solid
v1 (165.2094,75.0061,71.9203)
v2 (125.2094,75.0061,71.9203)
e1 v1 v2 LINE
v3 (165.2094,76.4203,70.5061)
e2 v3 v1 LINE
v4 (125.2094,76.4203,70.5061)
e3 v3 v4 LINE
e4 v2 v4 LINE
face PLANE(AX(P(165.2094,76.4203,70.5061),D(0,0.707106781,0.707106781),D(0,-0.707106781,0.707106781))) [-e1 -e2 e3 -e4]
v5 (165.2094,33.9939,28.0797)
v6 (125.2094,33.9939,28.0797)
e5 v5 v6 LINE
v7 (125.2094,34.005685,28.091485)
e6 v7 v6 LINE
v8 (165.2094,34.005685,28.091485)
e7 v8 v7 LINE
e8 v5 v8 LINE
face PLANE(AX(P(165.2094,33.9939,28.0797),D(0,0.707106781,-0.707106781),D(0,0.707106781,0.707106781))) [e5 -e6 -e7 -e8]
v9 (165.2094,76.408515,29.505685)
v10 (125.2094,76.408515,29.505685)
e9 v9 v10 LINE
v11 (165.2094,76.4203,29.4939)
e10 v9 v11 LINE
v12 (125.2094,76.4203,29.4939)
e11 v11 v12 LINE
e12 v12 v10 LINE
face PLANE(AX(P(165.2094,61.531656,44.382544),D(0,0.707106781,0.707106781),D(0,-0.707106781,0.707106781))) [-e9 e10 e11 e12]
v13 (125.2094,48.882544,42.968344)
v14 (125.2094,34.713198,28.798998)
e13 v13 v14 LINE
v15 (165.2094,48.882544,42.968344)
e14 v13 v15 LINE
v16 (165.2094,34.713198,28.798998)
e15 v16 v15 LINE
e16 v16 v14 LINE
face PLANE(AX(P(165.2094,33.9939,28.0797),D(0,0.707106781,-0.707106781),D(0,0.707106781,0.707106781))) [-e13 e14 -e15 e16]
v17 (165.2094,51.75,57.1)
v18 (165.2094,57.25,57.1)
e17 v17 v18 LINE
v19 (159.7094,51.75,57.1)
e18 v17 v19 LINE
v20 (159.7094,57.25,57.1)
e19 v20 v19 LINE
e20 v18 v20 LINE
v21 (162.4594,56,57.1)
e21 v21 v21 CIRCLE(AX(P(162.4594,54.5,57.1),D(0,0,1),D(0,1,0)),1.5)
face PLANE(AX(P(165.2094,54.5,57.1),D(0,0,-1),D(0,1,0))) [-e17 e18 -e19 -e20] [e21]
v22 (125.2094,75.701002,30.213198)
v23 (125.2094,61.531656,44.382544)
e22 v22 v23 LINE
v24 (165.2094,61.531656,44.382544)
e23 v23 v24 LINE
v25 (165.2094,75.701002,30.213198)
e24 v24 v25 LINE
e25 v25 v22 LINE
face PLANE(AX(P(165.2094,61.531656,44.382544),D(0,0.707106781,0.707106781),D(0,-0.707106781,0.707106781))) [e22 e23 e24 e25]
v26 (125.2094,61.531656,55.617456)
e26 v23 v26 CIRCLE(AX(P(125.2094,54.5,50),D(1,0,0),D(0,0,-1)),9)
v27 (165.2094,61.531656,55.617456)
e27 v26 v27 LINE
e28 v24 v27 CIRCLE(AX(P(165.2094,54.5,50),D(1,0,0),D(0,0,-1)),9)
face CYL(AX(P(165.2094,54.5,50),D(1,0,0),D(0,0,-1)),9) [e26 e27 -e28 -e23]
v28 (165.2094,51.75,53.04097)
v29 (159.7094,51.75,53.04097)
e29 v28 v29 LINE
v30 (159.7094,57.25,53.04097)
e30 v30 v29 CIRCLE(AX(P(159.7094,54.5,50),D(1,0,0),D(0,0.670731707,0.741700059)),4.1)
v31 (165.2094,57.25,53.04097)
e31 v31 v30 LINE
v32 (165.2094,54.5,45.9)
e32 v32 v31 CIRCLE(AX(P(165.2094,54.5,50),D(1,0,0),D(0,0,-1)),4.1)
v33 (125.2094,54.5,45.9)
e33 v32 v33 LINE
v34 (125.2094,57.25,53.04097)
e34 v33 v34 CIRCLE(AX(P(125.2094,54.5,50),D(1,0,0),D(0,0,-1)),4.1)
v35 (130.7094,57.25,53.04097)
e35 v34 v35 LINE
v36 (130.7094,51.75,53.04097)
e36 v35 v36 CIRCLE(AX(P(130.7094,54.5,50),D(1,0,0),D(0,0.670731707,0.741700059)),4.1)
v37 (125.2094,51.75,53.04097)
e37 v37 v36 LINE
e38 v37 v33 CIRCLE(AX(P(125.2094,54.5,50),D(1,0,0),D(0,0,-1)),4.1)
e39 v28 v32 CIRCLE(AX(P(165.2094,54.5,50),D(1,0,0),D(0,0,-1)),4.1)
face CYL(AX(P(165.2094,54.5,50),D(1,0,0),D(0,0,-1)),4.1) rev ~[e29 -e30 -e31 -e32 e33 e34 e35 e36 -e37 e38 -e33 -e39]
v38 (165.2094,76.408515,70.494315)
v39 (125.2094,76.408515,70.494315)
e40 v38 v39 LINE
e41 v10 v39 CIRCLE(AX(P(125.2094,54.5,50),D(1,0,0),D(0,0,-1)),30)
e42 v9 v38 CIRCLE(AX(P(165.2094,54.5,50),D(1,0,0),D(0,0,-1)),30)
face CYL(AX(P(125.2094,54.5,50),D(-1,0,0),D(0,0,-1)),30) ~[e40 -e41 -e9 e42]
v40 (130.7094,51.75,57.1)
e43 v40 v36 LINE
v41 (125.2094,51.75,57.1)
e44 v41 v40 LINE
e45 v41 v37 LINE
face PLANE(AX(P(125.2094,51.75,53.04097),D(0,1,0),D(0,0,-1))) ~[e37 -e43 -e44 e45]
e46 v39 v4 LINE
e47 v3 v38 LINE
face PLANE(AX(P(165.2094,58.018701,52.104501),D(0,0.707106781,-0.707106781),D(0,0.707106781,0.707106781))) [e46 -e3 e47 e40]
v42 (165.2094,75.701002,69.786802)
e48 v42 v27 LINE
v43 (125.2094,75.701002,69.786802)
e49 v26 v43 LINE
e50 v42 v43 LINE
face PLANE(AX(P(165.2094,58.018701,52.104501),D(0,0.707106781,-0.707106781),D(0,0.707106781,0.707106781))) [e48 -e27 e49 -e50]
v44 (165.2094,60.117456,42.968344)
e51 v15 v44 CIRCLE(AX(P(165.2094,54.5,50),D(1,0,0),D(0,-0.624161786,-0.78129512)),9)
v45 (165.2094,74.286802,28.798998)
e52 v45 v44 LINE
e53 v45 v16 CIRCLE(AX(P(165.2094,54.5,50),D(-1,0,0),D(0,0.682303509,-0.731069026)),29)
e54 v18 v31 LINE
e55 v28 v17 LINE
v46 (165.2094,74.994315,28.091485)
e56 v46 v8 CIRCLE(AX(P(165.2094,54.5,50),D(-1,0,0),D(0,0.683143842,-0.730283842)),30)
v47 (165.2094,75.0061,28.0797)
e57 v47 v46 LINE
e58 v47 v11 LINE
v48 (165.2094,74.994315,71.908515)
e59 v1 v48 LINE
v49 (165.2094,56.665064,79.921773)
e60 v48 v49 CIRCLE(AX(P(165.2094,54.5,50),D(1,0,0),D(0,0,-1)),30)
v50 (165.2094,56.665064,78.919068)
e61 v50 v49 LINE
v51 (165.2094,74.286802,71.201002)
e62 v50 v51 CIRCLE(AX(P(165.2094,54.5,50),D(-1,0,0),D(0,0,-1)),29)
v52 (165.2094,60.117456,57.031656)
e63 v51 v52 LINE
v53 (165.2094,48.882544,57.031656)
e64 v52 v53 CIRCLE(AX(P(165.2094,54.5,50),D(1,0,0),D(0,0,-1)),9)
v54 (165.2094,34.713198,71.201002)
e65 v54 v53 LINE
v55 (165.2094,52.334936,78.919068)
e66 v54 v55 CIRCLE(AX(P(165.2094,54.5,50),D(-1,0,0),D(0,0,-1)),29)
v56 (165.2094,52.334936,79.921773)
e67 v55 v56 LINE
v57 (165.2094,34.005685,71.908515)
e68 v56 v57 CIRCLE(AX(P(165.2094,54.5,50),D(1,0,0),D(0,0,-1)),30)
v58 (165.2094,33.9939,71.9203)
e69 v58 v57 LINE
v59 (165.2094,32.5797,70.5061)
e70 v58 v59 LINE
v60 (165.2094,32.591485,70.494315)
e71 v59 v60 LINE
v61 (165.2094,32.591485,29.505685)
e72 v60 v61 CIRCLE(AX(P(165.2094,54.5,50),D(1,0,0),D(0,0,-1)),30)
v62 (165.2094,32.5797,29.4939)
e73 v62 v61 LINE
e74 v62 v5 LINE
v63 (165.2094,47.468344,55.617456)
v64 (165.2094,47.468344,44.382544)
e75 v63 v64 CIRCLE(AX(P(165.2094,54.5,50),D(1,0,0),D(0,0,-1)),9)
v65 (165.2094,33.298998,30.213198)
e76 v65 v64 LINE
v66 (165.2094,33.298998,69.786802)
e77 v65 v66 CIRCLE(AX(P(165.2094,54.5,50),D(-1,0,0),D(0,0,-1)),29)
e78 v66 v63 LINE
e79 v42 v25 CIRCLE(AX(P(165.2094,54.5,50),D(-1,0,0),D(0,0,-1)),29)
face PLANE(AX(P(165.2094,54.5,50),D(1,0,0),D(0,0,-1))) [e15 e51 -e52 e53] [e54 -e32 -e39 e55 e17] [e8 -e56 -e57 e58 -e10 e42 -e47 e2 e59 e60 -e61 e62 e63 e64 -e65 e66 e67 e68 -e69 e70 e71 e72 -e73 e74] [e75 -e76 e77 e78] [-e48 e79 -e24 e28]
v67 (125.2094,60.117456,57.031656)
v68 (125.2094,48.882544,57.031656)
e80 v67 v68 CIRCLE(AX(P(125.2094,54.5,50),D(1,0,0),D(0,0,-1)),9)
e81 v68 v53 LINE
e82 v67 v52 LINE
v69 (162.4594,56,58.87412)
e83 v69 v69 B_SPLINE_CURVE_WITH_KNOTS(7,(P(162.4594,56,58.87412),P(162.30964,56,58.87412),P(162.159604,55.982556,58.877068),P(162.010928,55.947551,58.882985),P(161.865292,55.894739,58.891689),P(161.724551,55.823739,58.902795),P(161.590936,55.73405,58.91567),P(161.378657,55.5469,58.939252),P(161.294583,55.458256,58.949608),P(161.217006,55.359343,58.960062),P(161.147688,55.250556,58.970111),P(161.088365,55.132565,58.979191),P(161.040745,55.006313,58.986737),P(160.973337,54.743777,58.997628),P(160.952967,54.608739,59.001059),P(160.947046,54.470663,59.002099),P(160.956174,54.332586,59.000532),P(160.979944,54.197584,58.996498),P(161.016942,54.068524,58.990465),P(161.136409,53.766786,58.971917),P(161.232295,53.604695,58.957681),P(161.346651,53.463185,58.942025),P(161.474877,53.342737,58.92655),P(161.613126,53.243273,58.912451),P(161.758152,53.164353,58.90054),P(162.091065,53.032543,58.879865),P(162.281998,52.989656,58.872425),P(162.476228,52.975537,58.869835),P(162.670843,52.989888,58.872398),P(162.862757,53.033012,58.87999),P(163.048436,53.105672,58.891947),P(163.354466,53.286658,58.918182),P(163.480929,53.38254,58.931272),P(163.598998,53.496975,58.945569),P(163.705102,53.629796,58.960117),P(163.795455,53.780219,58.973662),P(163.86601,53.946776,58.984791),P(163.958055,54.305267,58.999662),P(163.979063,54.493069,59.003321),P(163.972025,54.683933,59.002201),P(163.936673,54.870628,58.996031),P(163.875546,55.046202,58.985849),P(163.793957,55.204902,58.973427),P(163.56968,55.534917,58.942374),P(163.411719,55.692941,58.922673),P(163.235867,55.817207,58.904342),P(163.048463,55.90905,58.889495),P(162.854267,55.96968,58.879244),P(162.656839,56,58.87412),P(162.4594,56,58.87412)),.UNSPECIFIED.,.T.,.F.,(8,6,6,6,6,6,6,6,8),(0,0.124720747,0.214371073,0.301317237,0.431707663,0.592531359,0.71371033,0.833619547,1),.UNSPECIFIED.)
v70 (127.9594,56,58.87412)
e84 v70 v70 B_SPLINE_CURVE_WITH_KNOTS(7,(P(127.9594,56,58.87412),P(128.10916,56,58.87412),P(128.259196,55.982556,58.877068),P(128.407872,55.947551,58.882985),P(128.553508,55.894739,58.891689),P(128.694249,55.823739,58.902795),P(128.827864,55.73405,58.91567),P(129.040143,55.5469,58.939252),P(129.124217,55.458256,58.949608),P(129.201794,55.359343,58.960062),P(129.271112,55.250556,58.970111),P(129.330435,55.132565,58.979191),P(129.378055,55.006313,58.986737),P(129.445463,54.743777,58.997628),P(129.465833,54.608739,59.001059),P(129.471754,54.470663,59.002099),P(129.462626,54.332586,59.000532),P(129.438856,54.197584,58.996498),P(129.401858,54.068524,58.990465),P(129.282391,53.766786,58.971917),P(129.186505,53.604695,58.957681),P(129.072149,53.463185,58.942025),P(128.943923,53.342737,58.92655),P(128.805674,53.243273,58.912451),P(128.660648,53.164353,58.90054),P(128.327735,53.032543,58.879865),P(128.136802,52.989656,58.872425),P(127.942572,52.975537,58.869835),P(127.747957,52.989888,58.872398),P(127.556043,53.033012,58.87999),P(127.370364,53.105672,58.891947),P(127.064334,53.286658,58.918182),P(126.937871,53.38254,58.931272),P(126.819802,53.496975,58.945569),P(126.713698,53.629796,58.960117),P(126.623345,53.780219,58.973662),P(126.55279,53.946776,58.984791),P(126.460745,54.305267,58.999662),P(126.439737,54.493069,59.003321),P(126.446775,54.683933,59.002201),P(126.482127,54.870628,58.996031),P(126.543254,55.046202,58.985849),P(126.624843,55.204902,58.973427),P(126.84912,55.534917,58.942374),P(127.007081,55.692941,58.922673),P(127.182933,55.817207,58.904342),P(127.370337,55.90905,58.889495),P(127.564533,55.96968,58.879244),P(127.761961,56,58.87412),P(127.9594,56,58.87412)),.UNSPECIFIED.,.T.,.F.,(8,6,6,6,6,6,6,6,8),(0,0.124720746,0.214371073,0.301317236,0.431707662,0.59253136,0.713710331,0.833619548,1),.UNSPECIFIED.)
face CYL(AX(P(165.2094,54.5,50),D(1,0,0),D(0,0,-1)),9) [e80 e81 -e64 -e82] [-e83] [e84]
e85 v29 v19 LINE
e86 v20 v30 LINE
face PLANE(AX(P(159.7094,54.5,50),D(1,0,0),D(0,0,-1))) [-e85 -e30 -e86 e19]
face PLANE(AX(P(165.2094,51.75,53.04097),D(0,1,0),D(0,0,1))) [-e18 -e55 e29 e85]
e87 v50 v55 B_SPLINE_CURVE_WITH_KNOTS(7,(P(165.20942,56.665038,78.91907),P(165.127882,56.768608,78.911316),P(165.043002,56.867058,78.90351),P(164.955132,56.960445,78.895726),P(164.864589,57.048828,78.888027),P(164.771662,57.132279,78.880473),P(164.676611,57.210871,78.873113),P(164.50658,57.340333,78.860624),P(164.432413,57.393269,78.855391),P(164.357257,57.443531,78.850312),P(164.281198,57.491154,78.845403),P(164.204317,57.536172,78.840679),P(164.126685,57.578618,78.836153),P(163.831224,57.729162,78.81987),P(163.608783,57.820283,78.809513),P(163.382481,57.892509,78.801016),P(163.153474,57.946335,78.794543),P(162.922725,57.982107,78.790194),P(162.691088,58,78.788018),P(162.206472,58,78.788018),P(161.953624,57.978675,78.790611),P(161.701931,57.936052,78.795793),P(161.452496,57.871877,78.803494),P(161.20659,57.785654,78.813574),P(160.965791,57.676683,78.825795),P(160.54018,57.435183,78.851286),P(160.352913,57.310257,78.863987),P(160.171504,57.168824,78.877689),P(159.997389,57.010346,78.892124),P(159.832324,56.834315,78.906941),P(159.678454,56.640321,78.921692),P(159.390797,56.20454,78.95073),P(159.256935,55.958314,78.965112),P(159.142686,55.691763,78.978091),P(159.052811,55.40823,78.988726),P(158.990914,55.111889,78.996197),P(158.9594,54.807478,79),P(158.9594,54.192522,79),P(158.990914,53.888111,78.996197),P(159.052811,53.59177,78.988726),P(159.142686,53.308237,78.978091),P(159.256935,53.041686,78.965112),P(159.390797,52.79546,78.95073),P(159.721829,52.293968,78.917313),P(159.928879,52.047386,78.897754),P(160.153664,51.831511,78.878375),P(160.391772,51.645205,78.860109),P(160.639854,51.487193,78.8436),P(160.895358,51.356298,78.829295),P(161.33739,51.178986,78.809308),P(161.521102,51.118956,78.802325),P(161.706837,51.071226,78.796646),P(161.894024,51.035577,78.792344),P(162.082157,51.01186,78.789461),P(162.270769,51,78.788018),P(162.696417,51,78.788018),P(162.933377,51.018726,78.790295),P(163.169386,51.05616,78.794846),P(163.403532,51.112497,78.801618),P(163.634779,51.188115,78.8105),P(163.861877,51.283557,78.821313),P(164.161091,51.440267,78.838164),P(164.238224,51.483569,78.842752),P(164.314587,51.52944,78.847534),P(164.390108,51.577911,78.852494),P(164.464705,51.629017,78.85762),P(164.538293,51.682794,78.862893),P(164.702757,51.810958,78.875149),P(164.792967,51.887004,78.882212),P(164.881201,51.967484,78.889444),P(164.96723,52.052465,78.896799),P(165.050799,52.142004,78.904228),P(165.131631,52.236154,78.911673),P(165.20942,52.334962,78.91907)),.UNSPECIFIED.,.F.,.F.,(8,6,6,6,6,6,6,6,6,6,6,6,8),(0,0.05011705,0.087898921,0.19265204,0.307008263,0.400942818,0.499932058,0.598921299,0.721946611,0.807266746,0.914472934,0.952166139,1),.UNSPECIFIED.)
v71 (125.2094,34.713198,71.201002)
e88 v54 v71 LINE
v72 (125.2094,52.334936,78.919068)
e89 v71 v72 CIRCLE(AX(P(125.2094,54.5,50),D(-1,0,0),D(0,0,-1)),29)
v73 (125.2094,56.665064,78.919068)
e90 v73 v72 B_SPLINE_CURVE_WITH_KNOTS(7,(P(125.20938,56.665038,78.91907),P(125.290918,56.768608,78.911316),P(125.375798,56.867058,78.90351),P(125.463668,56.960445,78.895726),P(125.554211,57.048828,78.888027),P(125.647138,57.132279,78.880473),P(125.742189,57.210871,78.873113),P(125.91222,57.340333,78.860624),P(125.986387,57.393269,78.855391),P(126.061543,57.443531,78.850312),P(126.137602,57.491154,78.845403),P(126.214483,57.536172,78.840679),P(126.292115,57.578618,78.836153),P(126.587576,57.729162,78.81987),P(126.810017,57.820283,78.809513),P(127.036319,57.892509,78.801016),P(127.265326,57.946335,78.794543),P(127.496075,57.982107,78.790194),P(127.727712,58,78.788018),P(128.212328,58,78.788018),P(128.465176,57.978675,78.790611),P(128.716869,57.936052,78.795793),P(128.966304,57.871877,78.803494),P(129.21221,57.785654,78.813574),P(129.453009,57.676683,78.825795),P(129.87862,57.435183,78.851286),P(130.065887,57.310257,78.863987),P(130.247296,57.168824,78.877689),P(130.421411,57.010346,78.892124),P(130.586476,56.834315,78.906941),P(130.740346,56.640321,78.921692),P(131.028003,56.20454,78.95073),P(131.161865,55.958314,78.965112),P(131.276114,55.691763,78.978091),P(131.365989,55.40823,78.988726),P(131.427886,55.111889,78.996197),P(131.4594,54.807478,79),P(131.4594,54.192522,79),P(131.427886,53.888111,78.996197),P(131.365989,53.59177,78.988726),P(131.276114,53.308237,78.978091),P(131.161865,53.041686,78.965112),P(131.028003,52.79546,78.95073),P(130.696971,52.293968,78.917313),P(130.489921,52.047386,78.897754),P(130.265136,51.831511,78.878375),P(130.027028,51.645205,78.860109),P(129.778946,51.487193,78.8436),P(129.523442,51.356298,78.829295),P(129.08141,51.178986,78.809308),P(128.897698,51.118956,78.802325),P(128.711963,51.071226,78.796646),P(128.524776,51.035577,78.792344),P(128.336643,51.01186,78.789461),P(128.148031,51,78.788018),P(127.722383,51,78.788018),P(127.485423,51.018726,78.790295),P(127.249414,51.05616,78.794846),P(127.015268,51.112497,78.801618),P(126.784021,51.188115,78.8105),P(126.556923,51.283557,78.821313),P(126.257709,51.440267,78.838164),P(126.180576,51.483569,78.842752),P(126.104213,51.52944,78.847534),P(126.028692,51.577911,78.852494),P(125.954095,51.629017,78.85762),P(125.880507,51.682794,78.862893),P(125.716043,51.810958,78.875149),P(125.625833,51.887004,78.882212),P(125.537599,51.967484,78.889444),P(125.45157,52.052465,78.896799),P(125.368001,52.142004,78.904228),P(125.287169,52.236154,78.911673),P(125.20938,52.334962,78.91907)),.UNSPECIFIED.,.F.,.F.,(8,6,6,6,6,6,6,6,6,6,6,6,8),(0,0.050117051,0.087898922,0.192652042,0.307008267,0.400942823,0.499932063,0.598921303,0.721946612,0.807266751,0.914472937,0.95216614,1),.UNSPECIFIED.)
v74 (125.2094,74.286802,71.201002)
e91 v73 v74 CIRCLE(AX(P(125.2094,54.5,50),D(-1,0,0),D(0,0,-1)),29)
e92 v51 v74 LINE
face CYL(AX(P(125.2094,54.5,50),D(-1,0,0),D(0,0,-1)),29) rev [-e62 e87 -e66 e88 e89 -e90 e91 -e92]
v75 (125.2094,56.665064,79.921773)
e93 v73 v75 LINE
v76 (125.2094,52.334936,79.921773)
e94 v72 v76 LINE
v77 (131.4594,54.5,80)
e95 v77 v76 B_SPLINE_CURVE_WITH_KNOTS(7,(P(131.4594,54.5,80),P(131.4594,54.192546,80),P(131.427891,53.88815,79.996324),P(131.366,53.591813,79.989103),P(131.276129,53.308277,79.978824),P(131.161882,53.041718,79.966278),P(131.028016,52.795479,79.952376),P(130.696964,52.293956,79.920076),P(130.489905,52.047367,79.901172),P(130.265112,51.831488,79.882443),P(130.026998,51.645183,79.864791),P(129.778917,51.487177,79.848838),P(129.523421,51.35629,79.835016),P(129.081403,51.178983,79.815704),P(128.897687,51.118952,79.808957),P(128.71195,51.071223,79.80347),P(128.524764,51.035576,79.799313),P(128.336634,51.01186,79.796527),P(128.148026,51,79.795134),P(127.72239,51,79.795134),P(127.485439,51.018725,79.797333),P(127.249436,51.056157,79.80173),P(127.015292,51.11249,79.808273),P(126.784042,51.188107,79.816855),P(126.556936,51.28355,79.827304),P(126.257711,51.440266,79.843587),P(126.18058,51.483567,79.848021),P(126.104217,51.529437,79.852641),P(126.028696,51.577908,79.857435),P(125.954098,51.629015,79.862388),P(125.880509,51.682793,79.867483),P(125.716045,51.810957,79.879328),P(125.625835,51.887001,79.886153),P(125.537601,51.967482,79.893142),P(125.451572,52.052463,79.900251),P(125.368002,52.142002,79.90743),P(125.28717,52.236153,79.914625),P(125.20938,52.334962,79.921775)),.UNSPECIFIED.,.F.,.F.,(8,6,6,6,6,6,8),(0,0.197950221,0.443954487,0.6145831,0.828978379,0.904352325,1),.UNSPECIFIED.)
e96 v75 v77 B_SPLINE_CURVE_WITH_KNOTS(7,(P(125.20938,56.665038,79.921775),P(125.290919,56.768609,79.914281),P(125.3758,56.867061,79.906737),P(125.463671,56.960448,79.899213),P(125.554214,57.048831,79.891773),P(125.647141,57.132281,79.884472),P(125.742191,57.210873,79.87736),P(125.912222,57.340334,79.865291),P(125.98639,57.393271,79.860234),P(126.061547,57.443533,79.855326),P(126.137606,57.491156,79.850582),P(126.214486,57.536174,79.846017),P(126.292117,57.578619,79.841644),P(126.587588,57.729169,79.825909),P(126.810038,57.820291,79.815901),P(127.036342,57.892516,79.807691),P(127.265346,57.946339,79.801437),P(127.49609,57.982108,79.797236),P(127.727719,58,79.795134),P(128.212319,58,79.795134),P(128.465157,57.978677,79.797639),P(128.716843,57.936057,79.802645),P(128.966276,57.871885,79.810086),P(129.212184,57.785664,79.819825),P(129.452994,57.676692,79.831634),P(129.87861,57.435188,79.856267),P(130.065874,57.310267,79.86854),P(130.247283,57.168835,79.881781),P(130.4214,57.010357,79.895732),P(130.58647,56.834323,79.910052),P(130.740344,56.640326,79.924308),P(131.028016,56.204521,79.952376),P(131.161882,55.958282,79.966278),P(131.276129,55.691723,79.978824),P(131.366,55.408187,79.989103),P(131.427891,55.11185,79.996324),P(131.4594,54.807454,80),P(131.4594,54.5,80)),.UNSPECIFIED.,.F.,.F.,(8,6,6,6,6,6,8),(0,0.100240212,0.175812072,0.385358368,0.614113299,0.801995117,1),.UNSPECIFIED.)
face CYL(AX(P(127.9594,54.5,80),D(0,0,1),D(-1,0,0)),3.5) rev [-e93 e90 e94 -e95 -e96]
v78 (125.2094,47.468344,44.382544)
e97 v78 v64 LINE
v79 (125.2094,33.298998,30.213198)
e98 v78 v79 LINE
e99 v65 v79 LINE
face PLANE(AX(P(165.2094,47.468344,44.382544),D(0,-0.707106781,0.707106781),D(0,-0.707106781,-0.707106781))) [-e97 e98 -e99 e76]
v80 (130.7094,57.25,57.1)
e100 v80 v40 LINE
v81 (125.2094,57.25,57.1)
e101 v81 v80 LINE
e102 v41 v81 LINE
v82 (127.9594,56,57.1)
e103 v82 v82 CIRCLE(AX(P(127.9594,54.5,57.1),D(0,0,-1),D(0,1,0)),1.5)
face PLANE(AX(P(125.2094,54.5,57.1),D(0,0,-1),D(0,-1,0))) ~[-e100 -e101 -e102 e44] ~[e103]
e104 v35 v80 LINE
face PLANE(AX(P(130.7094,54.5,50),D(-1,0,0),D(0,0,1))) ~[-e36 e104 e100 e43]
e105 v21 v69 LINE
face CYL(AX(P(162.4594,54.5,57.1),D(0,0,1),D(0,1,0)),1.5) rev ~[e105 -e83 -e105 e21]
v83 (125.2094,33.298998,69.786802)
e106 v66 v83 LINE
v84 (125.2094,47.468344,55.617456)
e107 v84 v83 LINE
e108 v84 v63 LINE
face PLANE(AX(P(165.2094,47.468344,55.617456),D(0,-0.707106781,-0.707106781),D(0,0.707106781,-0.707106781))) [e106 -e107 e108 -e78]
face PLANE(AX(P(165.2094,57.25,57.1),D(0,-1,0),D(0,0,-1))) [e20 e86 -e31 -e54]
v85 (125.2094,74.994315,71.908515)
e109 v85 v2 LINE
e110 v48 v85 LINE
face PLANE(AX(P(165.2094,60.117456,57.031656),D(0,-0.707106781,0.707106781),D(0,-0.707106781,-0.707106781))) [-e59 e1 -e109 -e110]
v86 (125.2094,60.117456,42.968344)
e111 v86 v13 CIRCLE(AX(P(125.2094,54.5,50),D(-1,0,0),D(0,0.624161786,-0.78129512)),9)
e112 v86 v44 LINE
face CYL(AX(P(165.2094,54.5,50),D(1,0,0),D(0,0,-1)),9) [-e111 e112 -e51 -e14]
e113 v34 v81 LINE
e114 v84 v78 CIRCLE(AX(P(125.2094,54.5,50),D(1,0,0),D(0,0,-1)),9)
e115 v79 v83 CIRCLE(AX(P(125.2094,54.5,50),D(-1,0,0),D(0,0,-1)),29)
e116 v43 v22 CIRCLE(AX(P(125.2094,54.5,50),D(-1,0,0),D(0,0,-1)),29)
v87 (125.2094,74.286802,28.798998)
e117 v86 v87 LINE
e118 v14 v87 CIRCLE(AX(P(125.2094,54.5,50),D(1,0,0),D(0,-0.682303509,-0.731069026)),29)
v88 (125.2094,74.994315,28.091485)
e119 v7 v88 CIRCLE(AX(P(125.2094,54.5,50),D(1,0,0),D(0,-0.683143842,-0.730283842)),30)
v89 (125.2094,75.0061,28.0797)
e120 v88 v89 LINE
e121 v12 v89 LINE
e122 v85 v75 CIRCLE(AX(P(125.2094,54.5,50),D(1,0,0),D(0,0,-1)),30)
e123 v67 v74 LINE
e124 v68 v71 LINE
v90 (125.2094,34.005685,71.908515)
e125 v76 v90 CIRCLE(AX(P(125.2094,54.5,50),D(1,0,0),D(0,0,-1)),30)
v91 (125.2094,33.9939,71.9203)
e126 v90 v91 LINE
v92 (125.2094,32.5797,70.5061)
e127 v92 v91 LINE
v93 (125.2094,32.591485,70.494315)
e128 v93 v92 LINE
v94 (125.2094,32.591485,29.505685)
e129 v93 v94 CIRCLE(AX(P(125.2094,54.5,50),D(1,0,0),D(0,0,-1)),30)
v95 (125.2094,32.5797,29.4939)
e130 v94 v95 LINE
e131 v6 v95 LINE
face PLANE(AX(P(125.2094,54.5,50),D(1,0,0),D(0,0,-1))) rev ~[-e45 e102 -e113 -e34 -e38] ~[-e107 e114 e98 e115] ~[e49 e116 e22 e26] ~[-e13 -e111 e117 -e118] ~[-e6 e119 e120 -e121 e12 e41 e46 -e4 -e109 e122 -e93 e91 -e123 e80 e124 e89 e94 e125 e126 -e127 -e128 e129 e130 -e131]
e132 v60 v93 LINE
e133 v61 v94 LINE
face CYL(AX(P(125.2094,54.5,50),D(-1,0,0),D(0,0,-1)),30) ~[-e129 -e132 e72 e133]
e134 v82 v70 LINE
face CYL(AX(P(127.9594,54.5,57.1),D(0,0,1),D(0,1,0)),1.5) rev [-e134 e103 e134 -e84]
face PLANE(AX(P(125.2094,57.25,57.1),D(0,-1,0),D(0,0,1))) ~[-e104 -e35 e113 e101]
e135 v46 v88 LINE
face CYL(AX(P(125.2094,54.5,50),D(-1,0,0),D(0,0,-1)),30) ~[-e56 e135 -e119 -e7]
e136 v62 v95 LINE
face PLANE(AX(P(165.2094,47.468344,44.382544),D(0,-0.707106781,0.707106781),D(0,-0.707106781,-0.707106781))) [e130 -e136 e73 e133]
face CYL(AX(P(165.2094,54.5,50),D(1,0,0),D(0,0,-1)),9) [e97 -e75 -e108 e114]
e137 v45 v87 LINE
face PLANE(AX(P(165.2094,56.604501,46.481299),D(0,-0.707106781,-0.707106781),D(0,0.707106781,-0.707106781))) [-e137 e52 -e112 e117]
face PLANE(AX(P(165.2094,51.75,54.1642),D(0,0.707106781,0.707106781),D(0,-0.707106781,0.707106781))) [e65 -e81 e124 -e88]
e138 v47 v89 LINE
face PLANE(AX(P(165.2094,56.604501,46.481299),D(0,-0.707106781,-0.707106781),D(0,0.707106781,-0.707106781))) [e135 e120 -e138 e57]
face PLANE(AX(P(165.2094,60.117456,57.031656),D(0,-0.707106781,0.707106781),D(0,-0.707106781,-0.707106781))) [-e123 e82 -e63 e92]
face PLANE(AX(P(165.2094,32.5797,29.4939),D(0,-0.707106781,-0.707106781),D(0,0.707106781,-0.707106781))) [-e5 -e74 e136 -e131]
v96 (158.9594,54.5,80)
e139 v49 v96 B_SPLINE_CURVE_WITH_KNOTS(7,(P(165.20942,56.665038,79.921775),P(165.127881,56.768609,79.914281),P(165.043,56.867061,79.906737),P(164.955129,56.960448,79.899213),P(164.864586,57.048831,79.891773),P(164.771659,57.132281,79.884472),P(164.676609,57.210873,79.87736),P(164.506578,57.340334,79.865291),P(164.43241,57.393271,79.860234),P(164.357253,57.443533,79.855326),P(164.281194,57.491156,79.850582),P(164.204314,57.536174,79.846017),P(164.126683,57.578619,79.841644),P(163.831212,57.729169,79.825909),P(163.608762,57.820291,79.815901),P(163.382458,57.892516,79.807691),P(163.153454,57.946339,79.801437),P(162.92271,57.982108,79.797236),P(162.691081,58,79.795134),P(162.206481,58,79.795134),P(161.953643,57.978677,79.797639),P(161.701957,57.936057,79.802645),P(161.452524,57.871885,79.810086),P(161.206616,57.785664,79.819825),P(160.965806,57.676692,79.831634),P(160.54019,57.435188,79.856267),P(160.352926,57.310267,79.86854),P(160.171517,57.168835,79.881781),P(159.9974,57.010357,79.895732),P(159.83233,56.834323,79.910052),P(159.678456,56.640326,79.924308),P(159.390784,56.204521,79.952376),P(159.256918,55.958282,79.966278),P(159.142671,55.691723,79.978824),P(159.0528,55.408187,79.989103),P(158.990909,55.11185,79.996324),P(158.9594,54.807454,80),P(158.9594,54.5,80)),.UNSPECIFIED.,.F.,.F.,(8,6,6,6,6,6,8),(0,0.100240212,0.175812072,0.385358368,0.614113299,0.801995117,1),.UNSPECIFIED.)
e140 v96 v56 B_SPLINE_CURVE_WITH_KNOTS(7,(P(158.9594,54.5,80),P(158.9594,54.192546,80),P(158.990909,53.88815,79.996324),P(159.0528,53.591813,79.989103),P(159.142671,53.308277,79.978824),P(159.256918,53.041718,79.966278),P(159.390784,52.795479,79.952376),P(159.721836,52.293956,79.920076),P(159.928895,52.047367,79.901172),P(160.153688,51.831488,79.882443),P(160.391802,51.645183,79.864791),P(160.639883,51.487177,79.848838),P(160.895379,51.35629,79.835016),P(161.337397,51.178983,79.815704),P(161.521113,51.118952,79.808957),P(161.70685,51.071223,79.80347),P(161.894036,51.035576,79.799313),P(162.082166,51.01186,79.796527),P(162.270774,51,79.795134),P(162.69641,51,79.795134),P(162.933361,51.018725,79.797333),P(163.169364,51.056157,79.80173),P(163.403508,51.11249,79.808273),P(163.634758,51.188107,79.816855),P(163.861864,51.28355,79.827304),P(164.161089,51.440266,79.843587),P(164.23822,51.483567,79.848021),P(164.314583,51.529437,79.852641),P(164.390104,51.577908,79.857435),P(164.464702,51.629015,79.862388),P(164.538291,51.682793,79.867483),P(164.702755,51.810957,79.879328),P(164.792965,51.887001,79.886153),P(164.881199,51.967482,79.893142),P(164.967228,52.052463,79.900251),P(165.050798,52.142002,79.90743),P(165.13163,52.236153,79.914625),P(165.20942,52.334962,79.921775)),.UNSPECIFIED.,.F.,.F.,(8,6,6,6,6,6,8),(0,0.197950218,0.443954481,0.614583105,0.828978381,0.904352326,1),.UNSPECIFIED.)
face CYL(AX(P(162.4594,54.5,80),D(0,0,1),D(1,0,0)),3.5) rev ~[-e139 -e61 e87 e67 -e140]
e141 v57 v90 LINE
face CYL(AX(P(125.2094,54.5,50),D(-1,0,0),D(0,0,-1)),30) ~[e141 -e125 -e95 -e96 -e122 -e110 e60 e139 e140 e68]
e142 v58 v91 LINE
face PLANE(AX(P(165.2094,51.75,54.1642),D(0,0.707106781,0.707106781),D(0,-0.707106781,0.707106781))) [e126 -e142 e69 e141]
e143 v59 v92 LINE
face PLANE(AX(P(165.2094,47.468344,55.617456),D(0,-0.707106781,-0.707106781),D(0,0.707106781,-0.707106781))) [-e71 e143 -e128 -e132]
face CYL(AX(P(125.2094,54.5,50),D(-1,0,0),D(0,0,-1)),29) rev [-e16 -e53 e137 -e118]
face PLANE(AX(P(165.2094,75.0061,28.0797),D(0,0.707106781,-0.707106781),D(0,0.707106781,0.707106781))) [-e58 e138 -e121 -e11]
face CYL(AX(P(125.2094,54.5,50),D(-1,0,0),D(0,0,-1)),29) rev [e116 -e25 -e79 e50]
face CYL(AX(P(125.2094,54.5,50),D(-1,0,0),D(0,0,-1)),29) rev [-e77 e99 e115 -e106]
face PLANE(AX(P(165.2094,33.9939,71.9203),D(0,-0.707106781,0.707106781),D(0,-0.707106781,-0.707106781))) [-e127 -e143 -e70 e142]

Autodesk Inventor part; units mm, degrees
ref_plane "Plano de trabajo3" through (185, 53, 51.5) normal (1, 0, 0) x (0, 0, -1)
ref_plane "Plano de trabajo4" through (125.2094, 54.5, 50) normal (1, 0, 0) x (0, 0, -1)
sketch "Boceto3" plane through (125.2094, 54.5, 50) normal (1, 0, 0) x (0, 0, -1)
  circle A0 centre (0, 0) radius 30
  circle A1 centre (0, 0) radius 5
  point P0 (50, -54.5)
  dimension "d5" = 60
  dimension "d9" = 10
extrude "Extrusión1" add sketch "Boceto3" along normal blind 40 contours A0 | A1
shell "Vaciado1" thickness 1 removed faces 2 at (125.2094, 56.8932, 44.7392) at (165.2094, 56.8932, 44.7392)
sketch "Boceto4" plane through (165.2094, 54.5, 50) normal (1, 0, 0) x (0, 0, -1)
  circle A0 centre (0, 0) radius 9
  circle A1 centre (0, 0) radius 4.1
  point P0 (50, -54.5)
  dimension "d10" = 18
  dimension "d11" = 8.2
extrude "Extrusión2" add sketch "Boceto4" against normal blind 40
sketch "Boceto5" plane through (165.2094, 54.5, 50) normal (1, 0, 0) x (0, 0, -1)
  line L0 (0, 0) -> (-4.1, 0)
  circle A0 centre (0, 0) radius 4.1 projected
  line L1 (-4.1, 0) -> (-7.1, 0)
  line L2 (-1.1, -2.75) -> (-7.1, -2.75)
  line L3 (-7.1, -2.75) -> (-7.1, 2.75)
  line L4 (-7.1, 2.75) -> (-1.1, 2.75)
  line L5 (-1.1, 2.75) -> (-1.1, -2.75)
  line L6 (-1.1, -2.75) -> (-7.1, 2.75) construction
  line L7 (-7.1, -2.75) -> (-1.1, 2.75) construction
  point P0 (50, -54.5)
  point P1 (-3.041, -2.75)
  point P2 (-3.041, 2.75)
  dimension "d14" = 3
  dimension "d15" = 5.5
extrude "Extrusión3" cut sketch "Boceto5" against normal blind 5.5 contours L1 L3 L4 A0 | A0 L2 L3 L1
sketch "Boceto6" plane through (165.2094, 51.75, 57.1) normal (0, 0, -1) x (-1, 0, 0)
  line L0 (0, 0) -> (0, 5.5) projected
  line L1 (0, 0) -> (5.5, 0) projected
  line L2 (5.5, 0) -> (5.5, 5.5) projected
  line L3 (0, 5.5) -> (5.5, 5.5) projected
  line L4 (5.5, 0) -> (5.5, 5.5) projected
  line L5 (5.5, 5.5) -> (0, 0)
  circle A0 centre (2.75, 2.75) radius 1.5
  point P0 (165.2094, -51.75)
  dimension "d18" = 3
hole "Agujero1" at (162.4594, 54.5, 57.1) direction (0, 0, 1) diameter 3 depth 3.7 tip angle 118
ref_plane "Plano de trabajo5" through (145.2094, 54.5, 50) normal (1, 0, 0) x (0, 0, -1)
ref_plane "Plano de trabajo6" through (0, 0, 80) normal (0, 0, 1) x (1, 0, 0)
sketch "Boceto7" plane through (0, 0, 80) normal (0, 0, 1) x (1, 0, 0)
  line L0 (162.4594, 56) -> (162.4594, 53)
  circle A0 centre (162.4594, 54.5) radius 3.5
  point P0 (0, 0)
  dimension "d27" = 7
extrude "Extrusión4" cut sketch "Boceto7" against normal blind 5.5
mirror "Simetría2" about plane through (145.2094, 54.5, 50) normal (1, 0, 0) of "Extrusión4", "Agujero1", "Extrusión3"
sketch "Boceto10" plane through (165.2094, 54.5, 50) normal (1, 0, 0) x (0, 0, -1)
  line L0 (20.5061, -21.9203) -> (21.9203, -20.5061)
  line L1 (21.9203, -20.5061) -> (-20.5061, 21.9203)
  line L2 (-20.5061, 21.9203) -> (-21.9203, 20.5061)
  line L3 (-21.9203, 20.5061) -> (20.5061, -21.9203)
  line L4 (20.5061, -21.9203) -> (-20.5061, 21.9203) construction
  line L5 (21.9203, -20.5061) -> (-21.9203, 20.5061) construction
  line L6 (21.9203, 20.5061) -> (20.5061, 21.9203)
  line L7 (20.5061, 21.9203) -> (-21.9203, -20.5061)
  line L8 (-21.9203, -20.5061) -> (-20.5061, -21.9203)
  line L9 (-20.5061, -21.9203) -> (21.9203, 20.5061)
  line L10 (21.9203, 20.5061) -> (-21.9203, -20.5061) construction
  line L11 (20.5061, 21.9203) -> (-20.5061, -21.9203) construction
  line L12 (-3.041, -2.75) -> (-7.1, -2.75) projected
  line L13 (-7.1, -2.75) -> (-7.1, 2.75) projected
  line L14 (-7.1, 2.75) -> (-3.041, 2.75) projected
  arc A0 (-3.041, -2.75) -> (-3.041, 2.75) centre (0, 0) ccw projected
  circle A1 centre (0, 0) radius 9 projected
  circle A2 centre (0, 0) radius 9
  point P0 (50, -54.5)
  point P1 (0, 0)
  point P2 (2.1045, 3.5187)
  point P3 (3.5187, 2.1045)
  point P4 (-2.1045, -3.5187)
  point P5 (-4.1642, -2.75)
  point P6 (-4.1642, 2.75)
  point P7 (-2.1045, 3.5187)
  point P8 (3.5187, -2.1045)
  point P9 (2.1045, -3.5187)
  dimension "d30" = 2
  dimension "d31" = 60
  dimension "d32" = 2
  dimension "d33" = 60
extrude "Extrusión5" add sketch "Boceto10" against normal blind 40 contours L3 A1 L1 L0 | L3 A0 L1 A1 | A1 L7 L12 A0 L9 | L9 L8 L7 A1 | A0 L7 A1 L9 | A1 L7 L6 L9 | A1 L1 A0 L14 L3 | L3 L2 L1 A1
properties part number "Rampa"
